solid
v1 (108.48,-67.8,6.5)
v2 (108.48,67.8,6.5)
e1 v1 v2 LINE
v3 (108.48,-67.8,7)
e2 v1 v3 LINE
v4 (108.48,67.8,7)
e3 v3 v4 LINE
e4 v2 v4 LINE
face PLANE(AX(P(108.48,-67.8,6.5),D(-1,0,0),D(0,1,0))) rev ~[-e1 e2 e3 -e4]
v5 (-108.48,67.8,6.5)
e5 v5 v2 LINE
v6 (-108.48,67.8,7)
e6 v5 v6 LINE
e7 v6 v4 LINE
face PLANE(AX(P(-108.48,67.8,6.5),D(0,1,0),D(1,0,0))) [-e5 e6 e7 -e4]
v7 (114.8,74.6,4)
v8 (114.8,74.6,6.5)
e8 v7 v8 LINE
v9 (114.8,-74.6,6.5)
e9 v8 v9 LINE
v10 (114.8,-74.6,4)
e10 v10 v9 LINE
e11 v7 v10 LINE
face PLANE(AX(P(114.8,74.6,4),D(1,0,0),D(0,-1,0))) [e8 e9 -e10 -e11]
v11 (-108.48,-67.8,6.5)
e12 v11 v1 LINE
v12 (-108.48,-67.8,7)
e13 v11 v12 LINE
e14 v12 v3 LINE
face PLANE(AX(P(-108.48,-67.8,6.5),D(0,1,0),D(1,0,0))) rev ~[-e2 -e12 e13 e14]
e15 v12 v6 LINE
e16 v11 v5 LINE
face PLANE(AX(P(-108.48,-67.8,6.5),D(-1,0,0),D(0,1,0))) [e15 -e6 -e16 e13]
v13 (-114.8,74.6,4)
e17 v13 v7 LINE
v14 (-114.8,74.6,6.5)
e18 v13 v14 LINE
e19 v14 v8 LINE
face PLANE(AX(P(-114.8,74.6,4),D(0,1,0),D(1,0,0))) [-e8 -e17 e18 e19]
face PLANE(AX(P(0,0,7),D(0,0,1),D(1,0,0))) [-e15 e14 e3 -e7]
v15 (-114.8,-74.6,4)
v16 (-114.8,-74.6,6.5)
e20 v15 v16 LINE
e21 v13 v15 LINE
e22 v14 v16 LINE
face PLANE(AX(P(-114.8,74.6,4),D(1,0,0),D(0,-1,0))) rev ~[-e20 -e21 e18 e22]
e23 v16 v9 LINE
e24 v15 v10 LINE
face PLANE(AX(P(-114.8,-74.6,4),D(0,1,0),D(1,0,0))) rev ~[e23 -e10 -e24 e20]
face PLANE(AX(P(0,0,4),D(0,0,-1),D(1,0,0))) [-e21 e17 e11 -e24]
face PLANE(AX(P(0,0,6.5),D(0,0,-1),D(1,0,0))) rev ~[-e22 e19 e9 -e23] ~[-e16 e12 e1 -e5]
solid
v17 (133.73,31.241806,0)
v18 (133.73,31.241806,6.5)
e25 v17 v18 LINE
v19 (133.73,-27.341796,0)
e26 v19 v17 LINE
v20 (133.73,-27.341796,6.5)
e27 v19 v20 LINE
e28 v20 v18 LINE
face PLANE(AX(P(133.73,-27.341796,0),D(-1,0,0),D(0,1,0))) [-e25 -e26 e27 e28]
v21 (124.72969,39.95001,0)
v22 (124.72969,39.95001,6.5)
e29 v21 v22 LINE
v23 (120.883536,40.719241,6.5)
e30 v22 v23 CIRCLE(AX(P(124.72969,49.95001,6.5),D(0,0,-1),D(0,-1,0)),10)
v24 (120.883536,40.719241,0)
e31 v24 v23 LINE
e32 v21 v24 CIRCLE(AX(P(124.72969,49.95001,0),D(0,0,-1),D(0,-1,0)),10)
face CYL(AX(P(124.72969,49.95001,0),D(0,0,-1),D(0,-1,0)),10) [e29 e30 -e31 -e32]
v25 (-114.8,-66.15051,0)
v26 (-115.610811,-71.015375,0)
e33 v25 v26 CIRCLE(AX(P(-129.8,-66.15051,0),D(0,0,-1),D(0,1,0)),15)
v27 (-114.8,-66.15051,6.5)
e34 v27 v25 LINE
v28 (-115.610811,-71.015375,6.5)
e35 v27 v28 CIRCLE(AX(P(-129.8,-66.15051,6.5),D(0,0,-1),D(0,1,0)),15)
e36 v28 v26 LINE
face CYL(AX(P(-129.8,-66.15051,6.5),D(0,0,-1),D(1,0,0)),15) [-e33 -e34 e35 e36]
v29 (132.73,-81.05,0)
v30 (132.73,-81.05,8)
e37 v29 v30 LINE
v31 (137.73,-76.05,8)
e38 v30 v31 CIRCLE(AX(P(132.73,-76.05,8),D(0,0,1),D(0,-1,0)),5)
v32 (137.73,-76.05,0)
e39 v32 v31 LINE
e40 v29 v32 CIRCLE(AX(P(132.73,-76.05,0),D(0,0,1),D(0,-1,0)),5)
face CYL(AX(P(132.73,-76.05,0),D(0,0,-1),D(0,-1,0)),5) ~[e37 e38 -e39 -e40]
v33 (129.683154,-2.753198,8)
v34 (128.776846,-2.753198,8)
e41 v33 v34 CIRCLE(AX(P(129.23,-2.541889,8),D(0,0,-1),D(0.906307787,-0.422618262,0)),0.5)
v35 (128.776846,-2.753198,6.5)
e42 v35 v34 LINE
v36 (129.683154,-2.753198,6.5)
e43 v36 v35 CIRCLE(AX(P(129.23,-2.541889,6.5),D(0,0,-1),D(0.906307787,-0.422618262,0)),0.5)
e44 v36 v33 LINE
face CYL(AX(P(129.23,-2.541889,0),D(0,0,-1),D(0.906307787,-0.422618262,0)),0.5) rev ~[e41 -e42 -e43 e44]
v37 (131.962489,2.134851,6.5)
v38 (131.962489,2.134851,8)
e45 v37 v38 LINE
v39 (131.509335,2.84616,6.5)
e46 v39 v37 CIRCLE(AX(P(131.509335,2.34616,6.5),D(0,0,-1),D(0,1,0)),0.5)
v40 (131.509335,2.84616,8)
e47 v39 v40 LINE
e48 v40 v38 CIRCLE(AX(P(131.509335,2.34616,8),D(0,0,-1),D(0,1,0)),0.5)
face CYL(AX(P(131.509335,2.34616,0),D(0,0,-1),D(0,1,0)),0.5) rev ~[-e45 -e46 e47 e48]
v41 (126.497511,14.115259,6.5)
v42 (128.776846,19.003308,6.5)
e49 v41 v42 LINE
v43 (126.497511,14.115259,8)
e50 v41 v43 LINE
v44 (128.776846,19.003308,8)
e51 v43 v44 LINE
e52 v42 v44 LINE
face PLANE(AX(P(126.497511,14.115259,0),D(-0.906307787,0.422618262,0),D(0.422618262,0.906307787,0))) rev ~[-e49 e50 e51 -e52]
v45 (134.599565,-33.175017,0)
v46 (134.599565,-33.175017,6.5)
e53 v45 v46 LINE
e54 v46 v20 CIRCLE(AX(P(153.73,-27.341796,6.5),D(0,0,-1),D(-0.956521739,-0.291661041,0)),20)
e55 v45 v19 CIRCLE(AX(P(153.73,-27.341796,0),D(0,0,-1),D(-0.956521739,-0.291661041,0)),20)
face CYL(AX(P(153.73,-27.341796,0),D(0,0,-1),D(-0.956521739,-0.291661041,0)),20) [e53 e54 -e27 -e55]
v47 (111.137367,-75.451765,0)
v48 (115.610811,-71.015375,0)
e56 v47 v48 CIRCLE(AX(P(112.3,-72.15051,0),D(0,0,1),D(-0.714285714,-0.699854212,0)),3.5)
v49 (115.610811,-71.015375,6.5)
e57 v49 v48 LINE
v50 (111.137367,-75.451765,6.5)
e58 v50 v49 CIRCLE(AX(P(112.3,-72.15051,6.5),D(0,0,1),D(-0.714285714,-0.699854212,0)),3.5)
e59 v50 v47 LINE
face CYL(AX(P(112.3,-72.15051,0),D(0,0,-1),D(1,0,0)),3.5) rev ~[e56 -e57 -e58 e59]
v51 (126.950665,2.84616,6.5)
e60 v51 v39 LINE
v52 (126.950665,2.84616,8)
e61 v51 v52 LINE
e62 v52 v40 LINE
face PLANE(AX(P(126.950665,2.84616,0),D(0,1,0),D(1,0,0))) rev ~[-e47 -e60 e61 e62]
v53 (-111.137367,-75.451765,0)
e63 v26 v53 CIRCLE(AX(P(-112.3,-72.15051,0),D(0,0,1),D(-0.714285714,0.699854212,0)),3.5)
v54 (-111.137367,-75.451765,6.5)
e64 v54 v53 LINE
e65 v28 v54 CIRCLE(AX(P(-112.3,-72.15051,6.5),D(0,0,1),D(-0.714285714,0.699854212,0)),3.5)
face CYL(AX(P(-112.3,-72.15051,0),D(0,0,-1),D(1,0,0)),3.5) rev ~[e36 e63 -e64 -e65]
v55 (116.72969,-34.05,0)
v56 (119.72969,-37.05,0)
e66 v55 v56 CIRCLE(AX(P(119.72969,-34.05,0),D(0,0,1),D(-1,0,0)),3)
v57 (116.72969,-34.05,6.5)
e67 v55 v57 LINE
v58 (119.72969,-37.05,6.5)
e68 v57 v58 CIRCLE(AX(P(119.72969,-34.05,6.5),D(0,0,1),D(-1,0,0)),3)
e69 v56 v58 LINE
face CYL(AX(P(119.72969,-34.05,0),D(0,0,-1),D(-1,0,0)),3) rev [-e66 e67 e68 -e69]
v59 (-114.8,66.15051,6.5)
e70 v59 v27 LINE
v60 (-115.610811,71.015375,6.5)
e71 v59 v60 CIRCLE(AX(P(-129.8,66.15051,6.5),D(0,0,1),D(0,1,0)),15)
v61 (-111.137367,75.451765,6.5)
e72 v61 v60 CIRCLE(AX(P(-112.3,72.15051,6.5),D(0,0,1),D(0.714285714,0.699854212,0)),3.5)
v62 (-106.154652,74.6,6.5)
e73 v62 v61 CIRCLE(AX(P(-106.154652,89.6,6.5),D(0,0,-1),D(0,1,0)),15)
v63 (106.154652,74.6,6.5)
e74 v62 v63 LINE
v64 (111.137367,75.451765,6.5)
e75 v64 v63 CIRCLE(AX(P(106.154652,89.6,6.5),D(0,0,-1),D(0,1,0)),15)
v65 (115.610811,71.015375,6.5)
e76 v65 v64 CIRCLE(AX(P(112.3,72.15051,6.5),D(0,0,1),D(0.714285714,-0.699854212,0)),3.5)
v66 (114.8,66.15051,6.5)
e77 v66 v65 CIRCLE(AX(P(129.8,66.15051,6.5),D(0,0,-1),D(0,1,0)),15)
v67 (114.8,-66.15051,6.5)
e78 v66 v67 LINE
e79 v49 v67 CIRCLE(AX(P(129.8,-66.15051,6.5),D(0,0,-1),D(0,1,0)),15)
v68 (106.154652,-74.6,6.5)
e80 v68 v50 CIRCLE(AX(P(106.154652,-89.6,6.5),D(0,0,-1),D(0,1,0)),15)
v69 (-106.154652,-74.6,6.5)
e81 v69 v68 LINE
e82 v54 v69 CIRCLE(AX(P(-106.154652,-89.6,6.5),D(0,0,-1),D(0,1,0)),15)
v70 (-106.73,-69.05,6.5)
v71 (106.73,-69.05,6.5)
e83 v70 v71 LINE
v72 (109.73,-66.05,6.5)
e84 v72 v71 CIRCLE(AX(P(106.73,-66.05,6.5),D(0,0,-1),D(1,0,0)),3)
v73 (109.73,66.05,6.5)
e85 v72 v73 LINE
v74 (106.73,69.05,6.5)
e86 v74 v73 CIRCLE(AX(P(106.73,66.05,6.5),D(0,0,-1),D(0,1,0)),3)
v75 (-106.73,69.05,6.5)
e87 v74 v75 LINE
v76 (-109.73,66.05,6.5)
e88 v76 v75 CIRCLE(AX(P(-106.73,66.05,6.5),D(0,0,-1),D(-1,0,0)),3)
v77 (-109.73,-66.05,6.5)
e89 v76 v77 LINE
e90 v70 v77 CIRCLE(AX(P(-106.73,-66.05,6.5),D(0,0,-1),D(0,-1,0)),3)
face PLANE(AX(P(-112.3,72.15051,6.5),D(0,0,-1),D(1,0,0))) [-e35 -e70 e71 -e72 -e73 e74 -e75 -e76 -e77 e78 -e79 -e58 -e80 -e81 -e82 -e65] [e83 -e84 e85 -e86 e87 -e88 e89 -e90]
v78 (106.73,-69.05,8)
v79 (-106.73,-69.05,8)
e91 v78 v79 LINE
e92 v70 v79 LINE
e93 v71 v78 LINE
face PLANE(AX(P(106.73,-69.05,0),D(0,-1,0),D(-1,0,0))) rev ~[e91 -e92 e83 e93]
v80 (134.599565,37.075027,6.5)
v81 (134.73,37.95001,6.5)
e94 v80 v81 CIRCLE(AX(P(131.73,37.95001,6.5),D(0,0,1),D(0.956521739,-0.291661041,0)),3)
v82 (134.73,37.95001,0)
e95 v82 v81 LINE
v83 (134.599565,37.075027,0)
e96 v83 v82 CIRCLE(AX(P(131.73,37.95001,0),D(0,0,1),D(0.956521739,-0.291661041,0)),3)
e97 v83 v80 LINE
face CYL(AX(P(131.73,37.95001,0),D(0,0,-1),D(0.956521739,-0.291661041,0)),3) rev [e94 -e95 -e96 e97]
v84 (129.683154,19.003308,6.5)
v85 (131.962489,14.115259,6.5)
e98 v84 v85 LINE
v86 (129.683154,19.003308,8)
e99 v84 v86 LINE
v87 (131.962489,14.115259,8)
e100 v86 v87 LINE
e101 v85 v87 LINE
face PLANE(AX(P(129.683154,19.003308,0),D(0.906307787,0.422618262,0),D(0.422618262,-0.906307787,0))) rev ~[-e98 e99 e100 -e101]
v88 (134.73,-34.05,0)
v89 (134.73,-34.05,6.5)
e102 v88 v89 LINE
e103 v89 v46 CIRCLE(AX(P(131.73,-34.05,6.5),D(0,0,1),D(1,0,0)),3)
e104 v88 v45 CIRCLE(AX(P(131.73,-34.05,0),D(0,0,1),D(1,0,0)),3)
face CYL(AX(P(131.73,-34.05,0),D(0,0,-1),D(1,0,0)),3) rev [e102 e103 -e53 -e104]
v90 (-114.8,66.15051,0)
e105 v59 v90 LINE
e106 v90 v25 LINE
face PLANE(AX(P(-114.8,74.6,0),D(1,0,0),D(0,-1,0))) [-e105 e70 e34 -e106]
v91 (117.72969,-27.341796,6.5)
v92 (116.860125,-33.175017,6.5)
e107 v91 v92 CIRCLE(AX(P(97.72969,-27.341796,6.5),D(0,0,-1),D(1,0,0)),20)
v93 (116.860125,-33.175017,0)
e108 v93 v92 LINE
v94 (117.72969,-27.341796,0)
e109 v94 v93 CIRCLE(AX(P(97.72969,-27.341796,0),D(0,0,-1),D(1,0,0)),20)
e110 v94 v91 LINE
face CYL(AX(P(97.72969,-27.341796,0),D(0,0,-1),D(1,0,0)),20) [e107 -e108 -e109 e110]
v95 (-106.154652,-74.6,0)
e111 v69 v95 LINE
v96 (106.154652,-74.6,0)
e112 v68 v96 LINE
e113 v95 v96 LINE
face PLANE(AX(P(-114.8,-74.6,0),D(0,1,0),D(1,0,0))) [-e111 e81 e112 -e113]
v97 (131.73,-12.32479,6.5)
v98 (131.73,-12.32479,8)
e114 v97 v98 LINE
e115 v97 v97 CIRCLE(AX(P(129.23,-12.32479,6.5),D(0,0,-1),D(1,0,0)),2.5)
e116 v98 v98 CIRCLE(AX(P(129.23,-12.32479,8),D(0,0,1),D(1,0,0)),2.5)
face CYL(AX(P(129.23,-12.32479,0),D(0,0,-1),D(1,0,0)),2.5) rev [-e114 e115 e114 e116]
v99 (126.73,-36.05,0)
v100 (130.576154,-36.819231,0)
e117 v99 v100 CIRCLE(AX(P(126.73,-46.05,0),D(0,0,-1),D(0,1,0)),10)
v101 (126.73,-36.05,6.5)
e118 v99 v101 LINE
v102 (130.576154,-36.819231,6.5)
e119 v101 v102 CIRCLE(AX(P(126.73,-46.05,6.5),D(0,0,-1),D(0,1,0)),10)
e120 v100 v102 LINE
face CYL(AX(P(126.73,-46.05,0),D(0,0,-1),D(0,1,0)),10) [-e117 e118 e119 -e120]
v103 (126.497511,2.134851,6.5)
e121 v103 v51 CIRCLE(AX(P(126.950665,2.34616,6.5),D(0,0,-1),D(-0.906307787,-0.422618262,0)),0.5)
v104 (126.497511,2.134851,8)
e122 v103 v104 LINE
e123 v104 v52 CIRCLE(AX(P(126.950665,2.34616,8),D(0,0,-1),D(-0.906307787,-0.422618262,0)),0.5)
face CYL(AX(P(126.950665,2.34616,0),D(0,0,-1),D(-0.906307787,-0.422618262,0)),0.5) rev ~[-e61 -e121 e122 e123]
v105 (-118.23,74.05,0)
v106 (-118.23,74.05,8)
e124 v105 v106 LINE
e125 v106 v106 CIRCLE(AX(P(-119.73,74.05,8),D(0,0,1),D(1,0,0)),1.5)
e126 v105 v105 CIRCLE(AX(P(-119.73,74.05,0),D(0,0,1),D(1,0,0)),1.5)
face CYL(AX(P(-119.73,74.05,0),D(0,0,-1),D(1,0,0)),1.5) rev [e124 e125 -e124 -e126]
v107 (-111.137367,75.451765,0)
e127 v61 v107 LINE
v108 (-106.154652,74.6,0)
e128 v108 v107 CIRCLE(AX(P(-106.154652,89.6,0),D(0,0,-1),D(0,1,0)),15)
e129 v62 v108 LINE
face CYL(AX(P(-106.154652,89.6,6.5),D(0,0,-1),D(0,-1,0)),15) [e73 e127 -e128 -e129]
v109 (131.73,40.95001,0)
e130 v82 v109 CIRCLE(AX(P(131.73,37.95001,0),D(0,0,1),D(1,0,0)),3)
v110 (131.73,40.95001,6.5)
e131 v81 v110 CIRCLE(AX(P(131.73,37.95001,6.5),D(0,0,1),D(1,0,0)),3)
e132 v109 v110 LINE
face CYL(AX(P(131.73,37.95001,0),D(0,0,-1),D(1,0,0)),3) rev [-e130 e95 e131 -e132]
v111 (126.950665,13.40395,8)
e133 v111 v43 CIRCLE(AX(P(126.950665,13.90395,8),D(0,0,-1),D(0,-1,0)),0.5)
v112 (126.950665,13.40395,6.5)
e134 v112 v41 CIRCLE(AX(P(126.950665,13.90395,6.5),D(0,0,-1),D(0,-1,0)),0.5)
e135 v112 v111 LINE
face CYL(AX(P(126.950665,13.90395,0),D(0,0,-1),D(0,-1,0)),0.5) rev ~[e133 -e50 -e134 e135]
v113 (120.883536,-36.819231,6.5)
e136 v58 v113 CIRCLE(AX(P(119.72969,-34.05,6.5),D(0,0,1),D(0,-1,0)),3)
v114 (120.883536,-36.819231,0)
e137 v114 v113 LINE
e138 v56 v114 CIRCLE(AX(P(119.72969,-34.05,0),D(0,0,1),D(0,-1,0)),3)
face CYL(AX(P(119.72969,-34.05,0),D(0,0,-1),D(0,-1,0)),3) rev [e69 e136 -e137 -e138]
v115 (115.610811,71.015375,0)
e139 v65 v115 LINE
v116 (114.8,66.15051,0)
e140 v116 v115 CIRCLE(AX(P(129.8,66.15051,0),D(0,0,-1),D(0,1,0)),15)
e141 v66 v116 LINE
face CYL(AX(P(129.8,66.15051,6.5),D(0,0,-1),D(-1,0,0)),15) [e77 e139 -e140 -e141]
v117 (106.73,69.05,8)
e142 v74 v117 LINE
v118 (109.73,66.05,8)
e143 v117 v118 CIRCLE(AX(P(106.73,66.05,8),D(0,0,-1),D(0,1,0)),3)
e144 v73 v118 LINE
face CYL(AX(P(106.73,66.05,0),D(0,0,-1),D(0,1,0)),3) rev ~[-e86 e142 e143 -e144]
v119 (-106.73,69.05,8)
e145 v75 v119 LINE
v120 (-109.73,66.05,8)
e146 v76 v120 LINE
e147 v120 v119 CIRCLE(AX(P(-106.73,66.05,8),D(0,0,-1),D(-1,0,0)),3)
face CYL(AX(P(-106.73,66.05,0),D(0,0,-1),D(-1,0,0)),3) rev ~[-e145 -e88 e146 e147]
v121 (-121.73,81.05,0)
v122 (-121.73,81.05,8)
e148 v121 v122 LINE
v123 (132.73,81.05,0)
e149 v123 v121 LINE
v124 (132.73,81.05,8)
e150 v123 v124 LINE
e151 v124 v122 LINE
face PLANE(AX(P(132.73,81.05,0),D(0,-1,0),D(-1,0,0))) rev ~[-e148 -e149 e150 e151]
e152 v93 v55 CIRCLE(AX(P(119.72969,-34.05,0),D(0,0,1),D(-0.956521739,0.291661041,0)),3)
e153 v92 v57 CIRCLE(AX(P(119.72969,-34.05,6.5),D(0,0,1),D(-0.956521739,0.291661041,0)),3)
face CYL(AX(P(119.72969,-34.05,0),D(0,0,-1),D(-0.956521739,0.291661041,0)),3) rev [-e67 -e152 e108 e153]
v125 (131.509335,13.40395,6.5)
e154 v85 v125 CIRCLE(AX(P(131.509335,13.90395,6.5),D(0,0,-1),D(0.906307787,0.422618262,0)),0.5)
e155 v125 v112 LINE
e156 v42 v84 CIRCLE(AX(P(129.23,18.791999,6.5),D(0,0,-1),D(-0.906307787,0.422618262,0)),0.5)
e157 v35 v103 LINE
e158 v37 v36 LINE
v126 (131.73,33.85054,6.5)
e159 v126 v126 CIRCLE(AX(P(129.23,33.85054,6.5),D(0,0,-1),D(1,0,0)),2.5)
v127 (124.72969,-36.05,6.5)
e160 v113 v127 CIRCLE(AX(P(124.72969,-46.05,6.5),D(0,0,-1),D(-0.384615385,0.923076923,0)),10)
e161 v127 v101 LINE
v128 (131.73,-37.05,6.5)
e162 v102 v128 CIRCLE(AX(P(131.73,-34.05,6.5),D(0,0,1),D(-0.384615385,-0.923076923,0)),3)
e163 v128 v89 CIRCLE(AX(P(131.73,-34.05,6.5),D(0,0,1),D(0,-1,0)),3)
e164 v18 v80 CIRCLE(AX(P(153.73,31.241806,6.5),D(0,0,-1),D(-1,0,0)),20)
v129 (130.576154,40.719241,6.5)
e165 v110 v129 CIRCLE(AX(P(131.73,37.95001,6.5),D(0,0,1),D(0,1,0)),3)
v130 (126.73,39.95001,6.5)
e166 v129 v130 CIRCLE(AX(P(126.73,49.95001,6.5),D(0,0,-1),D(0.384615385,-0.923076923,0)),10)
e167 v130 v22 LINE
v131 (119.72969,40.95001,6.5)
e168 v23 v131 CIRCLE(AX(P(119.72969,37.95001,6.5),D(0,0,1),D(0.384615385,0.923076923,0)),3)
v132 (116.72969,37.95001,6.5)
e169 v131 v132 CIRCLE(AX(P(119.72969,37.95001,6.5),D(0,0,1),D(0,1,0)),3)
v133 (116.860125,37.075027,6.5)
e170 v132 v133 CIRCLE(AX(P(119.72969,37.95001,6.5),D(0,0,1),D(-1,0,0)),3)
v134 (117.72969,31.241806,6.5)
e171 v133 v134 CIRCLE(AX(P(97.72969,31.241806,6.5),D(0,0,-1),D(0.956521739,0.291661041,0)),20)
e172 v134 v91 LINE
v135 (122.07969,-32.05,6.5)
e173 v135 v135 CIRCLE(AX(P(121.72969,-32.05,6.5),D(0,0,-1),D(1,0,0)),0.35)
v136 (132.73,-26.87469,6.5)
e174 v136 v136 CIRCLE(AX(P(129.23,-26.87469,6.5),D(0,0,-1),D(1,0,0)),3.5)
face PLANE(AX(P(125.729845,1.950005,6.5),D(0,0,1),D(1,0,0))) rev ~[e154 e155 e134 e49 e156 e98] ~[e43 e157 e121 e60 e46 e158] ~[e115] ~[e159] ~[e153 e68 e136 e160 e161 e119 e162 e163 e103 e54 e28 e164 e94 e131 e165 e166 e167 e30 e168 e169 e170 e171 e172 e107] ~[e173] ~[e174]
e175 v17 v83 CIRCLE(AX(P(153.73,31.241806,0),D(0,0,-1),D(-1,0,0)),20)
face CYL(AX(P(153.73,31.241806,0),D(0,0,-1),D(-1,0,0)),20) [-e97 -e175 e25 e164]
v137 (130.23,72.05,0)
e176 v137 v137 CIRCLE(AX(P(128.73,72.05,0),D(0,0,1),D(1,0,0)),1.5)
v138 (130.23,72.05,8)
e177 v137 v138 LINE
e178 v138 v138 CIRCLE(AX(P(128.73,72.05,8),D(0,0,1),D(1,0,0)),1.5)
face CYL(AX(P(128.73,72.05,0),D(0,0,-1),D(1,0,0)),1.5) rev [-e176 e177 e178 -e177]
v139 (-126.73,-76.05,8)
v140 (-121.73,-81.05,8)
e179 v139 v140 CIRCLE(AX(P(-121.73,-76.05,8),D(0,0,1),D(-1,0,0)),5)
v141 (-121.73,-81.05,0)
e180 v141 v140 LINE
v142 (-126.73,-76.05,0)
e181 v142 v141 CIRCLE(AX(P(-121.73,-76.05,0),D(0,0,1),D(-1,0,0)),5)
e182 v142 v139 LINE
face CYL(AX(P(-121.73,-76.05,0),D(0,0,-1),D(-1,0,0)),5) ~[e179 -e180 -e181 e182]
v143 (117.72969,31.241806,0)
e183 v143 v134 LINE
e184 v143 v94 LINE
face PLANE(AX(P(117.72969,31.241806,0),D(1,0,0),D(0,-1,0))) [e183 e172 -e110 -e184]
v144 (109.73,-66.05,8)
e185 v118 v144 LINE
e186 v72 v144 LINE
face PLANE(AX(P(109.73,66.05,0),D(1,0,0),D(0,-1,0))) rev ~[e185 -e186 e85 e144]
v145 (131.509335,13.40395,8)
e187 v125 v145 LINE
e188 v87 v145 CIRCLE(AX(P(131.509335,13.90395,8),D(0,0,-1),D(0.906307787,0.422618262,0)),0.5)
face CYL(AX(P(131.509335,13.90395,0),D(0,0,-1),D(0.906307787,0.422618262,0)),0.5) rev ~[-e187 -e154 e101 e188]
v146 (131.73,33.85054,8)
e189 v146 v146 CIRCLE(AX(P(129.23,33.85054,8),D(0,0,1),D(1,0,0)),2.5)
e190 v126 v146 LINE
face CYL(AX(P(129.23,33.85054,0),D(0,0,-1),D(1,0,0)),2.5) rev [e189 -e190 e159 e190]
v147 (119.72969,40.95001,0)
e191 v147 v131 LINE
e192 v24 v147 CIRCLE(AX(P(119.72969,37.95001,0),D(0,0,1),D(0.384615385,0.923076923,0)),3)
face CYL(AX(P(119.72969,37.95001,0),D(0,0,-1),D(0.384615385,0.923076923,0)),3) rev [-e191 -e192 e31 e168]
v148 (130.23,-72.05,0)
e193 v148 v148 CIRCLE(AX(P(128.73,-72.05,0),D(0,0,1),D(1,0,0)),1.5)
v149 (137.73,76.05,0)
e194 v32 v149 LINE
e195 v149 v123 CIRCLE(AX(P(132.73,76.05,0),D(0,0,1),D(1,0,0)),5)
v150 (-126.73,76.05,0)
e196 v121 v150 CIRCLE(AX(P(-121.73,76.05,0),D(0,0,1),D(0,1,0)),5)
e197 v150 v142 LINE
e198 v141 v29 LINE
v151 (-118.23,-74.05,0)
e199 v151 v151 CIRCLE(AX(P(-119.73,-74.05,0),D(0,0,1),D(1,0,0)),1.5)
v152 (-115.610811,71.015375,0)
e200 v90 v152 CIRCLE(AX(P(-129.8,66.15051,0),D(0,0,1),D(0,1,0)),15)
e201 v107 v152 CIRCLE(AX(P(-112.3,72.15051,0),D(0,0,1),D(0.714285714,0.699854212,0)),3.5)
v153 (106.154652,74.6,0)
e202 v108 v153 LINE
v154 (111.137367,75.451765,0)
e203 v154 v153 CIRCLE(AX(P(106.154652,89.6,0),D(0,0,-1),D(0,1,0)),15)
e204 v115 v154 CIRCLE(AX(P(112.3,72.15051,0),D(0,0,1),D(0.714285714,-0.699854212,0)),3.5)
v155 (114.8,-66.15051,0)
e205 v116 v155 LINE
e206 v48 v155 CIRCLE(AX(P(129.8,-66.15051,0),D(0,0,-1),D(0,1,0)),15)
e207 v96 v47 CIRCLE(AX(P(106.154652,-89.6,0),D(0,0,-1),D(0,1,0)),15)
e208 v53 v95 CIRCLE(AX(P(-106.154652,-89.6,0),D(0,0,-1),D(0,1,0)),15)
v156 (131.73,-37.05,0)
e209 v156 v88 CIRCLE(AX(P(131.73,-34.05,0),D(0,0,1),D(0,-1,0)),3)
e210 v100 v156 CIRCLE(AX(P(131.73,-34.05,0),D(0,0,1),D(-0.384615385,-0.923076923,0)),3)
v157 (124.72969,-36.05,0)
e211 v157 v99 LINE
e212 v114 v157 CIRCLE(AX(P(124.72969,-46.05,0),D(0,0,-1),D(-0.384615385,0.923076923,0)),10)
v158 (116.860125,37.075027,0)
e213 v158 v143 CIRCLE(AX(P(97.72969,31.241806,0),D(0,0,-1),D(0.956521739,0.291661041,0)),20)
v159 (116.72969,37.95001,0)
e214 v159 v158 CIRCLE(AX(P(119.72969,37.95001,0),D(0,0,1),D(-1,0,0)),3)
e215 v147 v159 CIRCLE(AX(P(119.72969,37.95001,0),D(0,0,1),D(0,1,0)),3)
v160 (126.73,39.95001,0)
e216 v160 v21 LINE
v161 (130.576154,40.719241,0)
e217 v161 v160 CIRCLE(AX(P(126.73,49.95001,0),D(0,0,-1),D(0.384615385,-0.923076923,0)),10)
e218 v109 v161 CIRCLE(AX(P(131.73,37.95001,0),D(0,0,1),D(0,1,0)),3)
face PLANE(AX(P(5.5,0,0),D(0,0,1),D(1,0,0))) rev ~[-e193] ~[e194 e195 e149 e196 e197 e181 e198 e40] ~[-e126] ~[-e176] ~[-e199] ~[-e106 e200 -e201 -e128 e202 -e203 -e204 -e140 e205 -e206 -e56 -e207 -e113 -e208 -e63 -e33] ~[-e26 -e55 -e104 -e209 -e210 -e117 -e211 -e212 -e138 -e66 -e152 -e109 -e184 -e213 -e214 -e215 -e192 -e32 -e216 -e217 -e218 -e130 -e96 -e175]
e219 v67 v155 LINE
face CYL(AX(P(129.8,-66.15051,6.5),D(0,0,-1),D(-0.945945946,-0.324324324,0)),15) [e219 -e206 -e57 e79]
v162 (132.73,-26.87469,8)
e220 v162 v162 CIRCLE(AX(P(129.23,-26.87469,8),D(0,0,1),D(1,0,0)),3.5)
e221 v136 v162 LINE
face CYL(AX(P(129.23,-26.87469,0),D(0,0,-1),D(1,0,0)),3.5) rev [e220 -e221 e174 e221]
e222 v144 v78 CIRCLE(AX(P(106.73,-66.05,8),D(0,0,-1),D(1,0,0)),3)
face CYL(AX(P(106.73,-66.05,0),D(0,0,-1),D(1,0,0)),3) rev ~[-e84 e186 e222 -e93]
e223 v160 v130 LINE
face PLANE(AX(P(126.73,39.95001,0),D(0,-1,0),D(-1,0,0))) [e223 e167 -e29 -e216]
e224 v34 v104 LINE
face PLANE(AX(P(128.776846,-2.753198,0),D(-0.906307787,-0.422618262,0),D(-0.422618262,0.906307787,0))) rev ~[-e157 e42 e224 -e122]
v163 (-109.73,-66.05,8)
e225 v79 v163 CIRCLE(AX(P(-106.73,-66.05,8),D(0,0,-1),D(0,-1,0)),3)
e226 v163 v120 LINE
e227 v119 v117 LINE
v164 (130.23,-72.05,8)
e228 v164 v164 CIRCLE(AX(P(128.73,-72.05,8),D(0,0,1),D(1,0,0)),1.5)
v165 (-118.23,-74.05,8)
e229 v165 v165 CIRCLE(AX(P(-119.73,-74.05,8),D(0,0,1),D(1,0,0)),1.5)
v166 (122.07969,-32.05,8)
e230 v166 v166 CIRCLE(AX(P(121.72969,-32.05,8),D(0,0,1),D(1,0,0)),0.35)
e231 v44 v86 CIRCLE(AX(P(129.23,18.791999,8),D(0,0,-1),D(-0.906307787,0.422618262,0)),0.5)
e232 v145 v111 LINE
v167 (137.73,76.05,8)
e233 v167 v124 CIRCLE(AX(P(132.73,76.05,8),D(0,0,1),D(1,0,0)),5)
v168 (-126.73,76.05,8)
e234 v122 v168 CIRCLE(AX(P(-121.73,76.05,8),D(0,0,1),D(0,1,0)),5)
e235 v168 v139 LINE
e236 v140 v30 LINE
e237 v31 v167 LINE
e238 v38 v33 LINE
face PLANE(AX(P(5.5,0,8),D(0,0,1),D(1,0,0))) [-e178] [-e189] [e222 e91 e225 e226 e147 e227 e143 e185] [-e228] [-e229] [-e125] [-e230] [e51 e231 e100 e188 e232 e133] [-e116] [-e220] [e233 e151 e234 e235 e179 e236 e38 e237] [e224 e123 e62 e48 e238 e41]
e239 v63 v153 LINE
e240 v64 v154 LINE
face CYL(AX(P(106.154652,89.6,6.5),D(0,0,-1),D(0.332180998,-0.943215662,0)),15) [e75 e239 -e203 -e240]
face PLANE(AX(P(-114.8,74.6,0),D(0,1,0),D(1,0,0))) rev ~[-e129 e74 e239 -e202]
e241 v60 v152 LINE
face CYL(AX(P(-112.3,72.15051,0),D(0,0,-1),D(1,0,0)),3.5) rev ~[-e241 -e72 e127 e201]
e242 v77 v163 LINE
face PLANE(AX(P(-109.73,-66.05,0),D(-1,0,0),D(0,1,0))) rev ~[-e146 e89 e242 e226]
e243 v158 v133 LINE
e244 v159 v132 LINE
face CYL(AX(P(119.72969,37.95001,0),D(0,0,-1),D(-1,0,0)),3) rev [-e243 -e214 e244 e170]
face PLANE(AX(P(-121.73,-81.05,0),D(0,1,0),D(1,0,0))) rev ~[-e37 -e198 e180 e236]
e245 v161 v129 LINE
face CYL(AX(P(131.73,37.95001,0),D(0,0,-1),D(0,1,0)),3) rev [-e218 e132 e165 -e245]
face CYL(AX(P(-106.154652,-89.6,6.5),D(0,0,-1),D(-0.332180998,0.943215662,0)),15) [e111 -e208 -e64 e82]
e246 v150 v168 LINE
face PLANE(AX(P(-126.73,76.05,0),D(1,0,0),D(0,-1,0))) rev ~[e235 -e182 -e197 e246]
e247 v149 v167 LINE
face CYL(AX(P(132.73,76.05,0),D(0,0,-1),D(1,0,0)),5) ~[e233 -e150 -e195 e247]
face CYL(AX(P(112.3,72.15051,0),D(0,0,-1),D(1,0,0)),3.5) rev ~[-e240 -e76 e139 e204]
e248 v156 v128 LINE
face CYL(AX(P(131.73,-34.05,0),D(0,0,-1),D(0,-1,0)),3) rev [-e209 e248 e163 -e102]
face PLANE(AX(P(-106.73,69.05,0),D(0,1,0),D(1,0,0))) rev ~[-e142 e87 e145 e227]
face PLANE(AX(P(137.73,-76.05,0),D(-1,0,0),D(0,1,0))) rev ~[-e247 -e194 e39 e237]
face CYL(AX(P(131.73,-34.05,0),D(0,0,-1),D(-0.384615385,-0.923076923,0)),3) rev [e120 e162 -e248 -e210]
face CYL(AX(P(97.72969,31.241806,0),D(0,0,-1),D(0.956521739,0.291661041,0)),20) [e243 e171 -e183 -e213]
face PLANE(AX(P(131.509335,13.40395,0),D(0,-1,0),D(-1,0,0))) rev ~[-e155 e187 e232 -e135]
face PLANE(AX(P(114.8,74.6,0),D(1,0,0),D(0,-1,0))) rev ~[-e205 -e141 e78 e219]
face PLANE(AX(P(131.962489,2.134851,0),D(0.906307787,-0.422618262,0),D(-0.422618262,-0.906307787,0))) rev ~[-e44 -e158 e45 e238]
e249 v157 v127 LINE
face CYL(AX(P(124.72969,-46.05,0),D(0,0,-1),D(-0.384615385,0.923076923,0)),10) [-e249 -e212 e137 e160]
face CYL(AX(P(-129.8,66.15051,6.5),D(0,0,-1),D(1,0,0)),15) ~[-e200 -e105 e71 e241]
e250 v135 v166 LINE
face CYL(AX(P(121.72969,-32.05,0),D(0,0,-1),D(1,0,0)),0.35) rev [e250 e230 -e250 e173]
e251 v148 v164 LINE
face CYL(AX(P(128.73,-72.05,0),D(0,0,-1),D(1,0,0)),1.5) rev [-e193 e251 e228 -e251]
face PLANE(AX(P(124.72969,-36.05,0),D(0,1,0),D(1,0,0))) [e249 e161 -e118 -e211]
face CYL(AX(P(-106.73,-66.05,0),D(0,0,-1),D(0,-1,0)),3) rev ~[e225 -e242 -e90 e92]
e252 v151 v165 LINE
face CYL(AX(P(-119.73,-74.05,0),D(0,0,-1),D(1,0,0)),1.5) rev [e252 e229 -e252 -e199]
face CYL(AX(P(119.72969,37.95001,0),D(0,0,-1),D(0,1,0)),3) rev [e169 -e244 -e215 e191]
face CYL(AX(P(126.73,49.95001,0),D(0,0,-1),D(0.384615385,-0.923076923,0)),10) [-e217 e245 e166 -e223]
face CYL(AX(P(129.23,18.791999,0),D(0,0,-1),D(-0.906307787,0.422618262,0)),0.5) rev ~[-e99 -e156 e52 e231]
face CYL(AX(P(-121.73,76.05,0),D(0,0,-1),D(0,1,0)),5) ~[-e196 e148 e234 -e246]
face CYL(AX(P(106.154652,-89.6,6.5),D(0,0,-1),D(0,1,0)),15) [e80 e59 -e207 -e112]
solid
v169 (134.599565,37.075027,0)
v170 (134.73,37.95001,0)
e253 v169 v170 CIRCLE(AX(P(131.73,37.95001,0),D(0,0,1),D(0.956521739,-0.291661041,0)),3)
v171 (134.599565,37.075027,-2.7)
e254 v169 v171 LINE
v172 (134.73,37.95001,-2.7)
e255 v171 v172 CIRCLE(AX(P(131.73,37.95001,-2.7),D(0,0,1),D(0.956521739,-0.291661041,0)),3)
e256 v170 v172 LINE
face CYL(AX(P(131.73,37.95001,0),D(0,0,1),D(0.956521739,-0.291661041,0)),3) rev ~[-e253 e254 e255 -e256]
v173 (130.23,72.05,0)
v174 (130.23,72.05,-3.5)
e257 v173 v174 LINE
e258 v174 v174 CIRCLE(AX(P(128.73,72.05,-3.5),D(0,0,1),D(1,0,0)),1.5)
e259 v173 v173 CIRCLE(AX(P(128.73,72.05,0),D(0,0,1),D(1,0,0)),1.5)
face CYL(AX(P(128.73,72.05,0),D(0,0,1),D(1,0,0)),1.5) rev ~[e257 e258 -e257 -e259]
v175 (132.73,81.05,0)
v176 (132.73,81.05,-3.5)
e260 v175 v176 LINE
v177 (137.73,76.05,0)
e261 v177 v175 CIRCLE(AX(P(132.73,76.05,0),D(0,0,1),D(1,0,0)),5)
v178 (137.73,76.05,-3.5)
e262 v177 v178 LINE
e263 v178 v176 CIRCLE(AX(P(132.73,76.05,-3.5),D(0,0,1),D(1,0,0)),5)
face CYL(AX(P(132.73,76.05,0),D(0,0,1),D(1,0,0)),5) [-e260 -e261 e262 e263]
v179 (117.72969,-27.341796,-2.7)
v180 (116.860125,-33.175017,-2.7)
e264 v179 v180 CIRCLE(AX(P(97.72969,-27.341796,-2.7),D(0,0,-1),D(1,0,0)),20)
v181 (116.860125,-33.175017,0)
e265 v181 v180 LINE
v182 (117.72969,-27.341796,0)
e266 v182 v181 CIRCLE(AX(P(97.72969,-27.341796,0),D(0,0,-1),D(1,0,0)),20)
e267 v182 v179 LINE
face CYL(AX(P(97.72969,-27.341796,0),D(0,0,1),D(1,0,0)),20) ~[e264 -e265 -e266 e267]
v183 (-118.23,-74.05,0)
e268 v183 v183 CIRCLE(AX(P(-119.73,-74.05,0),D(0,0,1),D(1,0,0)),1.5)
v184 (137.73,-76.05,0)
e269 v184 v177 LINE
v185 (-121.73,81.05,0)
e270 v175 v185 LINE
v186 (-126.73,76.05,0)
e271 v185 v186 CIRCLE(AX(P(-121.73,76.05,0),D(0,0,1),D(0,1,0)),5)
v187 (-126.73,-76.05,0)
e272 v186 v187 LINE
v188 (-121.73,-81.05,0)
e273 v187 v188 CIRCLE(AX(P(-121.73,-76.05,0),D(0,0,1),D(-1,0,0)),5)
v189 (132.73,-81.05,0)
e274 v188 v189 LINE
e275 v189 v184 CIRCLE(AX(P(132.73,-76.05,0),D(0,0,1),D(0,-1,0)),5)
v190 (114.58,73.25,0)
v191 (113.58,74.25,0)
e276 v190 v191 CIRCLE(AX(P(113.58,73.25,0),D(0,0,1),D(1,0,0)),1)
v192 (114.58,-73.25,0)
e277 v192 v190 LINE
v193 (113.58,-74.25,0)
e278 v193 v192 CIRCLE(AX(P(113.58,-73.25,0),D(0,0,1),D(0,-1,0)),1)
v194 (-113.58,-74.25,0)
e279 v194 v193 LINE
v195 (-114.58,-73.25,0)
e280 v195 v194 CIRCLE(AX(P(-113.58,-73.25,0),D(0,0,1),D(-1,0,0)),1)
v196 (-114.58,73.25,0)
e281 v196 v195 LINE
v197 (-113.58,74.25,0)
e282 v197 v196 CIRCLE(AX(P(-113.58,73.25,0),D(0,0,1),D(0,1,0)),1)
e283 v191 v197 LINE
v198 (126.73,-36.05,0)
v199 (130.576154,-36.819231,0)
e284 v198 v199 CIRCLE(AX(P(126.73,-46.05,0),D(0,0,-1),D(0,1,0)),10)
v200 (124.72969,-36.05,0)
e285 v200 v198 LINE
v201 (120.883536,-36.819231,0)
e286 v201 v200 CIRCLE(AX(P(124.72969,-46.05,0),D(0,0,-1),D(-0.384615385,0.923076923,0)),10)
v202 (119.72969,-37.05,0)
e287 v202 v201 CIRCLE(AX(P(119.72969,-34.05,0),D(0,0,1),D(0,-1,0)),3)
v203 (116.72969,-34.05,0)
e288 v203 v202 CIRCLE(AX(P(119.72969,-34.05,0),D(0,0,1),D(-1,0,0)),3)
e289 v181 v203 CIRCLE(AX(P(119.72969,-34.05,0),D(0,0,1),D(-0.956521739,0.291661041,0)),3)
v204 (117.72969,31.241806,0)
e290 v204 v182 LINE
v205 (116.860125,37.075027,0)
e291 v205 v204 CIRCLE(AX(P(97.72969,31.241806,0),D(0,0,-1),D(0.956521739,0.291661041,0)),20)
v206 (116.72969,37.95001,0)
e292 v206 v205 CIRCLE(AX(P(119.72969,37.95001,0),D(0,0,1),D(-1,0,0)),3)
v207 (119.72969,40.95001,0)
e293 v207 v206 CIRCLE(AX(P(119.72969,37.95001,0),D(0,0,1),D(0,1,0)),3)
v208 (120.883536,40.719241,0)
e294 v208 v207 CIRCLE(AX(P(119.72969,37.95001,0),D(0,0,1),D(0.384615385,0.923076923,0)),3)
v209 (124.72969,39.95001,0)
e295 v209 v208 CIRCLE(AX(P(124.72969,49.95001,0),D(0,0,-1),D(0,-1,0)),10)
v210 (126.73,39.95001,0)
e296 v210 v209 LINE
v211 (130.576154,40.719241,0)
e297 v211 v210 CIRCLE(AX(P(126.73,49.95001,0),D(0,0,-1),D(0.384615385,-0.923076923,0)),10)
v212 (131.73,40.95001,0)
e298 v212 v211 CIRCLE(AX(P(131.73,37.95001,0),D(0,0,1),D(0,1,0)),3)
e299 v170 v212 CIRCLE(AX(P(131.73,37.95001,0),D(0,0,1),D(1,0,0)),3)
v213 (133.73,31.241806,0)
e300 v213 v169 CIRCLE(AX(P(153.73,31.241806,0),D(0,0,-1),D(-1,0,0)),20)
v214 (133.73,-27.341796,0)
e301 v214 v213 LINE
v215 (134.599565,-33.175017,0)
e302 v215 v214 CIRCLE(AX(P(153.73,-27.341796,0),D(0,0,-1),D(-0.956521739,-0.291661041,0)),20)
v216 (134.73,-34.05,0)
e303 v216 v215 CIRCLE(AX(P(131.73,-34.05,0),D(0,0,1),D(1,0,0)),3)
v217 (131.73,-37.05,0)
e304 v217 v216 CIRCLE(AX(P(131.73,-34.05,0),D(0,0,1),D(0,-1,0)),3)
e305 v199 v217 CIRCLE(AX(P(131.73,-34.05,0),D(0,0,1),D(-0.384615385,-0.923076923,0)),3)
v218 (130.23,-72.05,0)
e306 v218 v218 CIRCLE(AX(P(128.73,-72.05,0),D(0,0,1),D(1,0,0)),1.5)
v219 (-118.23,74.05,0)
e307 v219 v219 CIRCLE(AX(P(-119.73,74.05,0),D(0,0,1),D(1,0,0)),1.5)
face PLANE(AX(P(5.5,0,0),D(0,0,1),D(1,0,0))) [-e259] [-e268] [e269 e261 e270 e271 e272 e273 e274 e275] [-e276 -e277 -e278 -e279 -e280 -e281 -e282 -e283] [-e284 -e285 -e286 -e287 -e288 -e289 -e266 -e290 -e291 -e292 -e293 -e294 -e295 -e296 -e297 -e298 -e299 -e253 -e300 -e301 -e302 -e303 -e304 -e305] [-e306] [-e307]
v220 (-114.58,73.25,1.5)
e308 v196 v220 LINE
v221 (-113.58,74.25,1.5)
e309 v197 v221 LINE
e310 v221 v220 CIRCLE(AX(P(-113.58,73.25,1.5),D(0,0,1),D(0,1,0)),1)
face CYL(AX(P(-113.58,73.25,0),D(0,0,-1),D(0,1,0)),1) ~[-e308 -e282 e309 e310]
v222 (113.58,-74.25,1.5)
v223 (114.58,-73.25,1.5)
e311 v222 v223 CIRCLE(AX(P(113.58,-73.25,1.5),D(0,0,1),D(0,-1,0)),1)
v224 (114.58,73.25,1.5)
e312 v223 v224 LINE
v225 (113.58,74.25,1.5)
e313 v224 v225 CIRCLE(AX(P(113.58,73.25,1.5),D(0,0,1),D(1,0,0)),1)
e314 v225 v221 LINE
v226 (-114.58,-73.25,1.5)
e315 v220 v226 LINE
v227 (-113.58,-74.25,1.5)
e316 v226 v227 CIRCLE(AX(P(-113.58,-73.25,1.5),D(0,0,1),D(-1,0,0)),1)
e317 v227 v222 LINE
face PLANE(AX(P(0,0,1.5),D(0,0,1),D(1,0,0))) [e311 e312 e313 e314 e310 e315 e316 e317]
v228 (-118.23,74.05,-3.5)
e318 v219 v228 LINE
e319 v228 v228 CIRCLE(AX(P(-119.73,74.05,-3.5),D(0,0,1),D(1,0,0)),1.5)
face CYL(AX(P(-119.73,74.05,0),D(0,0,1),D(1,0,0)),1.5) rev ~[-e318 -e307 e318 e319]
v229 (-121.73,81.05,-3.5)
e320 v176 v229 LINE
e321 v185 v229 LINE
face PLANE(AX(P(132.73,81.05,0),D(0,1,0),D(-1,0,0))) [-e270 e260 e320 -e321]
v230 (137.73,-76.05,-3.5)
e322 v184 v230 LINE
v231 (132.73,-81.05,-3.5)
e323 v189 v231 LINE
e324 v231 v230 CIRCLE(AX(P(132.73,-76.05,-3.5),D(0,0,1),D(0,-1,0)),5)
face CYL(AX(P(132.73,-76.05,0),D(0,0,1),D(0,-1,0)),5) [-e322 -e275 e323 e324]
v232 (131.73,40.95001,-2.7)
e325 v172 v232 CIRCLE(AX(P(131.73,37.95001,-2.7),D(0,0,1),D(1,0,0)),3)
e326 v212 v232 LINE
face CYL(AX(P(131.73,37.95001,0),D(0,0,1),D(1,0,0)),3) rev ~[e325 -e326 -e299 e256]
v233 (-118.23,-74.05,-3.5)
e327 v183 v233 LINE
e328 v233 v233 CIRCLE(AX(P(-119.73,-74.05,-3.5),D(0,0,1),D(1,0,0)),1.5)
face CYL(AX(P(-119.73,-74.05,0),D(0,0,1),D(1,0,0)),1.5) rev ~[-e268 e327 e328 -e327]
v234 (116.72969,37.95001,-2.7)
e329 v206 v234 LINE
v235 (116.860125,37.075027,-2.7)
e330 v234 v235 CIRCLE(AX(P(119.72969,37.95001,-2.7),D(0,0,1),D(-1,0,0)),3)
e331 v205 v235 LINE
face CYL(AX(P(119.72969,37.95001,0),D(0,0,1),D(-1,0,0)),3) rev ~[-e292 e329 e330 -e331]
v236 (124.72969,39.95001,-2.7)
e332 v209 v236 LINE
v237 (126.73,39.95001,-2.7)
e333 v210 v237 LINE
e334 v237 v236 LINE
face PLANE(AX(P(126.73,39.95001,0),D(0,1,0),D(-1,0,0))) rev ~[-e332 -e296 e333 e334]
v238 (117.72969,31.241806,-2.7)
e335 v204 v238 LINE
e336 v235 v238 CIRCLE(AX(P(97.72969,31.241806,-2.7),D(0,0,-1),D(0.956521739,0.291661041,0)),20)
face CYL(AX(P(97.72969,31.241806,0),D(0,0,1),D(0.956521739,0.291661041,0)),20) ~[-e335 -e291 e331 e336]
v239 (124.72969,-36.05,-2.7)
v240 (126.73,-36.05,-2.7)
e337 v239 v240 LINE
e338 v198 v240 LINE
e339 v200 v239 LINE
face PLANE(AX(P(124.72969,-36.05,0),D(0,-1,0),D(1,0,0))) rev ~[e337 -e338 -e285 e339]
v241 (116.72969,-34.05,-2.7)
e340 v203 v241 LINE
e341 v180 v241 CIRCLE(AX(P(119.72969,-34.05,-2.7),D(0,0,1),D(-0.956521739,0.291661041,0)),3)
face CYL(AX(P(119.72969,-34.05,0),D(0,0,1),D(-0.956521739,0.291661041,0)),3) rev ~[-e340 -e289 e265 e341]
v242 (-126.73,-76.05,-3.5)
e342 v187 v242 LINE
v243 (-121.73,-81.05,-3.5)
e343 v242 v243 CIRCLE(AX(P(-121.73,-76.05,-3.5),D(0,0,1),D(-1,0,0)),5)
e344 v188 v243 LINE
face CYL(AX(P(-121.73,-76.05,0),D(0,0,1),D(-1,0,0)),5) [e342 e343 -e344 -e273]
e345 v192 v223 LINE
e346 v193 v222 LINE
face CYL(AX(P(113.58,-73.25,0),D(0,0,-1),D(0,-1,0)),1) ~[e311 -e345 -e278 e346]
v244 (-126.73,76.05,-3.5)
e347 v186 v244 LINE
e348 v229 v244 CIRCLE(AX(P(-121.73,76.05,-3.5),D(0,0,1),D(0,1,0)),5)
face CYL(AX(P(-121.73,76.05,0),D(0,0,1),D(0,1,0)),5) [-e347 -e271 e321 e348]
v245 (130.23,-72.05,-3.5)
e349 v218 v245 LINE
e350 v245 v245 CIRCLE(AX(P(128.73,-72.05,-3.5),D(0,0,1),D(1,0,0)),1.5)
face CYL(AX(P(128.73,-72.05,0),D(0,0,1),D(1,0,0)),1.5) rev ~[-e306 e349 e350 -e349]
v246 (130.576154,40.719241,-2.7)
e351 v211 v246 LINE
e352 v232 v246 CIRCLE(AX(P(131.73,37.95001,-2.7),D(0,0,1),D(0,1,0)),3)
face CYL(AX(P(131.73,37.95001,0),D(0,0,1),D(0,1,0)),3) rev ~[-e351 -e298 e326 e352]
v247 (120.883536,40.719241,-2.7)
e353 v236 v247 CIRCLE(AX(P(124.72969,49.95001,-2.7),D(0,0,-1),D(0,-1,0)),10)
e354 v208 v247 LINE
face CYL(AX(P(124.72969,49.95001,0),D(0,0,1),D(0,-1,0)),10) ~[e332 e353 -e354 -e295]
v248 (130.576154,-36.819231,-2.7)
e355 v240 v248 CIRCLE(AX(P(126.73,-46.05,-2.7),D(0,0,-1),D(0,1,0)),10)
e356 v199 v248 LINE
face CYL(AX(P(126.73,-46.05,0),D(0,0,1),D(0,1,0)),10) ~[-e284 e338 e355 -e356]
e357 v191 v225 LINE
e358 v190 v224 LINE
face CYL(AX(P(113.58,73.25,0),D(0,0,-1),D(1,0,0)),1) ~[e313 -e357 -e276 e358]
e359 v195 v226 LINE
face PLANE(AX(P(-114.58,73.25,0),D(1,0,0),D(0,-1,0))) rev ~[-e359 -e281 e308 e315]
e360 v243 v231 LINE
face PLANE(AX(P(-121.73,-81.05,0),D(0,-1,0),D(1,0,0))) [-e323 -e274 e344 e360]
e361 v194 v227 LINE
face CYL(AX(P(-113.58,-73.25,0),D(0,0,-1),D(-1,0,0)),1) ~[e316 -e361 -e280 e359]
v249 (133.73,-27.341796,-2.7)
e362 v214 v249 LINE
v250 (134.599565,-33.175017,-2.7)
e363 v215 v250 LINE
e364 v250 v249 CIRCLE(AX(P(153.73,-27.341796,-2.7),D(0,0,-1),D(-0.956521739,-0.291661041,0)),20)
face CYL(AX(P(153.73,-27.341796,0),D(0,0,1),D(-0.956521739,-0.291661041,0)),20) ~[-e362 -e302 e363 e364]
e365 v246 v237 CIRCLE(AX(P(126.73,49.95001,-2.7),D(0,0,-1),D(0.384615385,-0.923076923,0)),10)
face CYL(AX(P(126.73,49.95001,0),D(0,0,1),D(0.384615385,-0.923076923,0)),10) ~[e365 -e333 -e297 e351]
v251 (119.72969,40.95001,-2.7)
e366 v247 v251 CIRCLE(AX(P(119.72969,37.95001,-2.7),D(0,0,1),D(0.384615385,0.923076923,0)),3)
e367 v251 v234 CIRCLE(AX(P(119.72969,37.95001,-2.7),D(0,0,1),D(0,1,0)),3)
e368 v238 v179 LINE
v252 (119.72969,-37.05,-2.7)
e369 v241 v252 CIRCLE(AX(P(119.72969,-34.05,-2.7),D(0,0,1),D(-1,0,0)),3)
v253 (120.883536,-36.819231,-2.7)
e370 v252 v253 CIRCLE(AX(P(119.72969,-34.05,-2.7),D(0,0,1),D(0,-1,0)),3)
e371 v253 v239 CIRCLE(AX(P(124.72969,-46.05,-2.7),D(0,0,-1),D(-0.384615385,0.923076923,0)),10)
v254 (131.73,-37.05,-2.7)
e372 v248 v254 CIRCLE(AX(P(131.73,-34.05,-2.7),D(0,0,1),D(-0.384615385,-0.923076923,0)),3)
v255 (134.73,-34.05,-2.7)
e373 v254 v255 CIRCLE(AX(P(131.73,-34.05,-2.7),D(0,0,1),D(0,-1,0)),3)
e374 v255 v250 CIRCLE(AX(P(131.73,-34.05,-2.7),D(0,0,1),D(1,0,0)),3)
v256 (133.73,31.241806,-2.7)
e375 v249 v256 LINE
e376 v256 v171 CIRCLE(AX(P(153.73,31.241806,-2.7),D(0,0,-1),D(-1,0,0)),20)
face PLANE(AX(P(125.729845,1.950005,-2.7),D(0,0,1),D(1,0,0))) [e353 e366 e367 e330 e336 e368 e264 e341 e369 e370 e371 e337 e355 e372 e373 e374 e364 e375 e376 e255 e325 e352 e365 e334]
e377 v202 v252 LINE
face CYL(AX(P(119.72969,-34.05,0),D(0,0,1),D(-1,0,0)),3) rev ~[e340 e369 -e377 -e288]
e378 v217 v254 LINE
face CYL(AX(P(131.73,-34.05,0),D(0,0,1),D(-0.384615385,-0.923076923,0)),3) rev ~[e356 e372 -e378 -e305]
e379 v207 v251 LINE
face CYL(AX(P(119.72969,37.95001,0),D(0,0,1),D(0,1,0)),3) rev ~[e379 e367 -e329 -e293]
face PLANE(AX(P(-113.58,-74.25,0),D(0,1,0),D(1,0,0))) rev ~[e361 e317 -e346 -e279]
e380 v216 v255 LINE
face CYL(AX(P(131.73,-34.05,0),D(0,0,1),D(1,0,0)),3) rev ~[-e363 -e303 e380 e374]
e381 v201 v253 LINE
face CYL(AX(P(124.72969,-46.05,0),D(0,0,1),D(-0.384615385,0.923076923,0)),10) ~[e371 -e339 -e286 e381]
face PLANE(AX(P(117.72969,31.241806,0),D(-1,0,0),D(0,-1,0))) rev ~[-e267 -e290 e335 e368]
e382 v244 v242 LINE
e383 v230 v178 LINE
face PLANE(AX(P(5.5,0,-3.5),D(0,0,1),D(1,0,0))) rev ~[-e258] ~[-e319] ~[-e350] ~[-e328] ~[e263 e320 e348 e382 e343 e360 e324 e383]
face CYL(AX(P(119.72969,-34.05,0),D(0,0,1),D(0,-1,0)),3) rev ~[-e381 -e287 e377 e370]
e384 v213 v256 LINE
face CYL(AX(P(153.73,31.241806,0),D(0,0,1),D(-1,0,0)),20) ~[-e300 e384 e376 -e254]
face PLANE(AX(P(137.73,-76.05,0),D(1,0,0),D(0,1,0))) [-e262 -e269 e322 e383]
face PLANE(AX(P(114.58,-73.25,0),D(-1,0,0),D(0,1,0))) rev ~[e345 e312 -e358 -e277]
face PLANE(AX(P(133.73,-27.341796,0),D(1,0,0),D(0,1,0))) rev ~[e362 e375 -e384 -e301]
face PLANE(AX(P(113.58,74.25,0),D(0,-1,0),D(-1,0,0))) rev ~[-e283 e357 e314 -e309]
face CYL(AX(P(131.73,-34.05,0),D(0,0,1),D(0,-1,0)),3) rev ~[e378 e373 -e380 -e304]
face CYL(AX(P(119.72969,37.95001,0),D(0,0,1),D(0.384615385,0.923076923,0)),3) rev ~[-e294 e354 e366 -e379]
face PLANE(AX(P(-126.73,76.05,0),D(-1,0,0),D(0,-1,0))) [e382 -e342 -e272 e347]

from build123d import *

# Parameters (mm, degrees)
F0_R      = 1.5
F0_R_2    = 0.35
F0_R_3    = 3.5
F0_R_4    = 2.5
F1_DEPTH  = 8
F2_W      = 229.6
F2_H      = 149.2
F3_DEPTH  = 6.5
F4_START  = -4
F4_DEPTH  = 2.5
F5_W      = 216.96
F5_H      = 135.6
F6_DEPTH  = 0.5
F8_DEPTH  = 6.5
F9_R      = 1.5
F10_DEPTH = 3.5
F11_DEPTH = 2.7
F13_DEPTH = 1.5
F14_R     = 3.5
F15_DEPTH = 6.5
F16_R     = 15


with BuildPart() as f1:
    # F0 (on Top) → F1 (new body)
    with BuildSketch(Plane.XY):
        with BuildLine():
            Line((132.73, 81.05), (-121.73, 81.05))
            ThreePointArc((-121.73, 81.05), (-125.2655339059, 79.5855339059), (-126.73, 76.05))
            Line((-126.73, 76.05), (-126.73, -76.05))
            ThreePointArc((-126.73, -76.05), (-125.2655339059, -79.5855339059), (-121.73, -81.05))
            Line((-121.73, -81.05), (132.73, -81.05))
            ThreePointArc((132.73, -81.05), (136.2655339059, -79.5855339059), (137.73, -76.05))
            Line((137.73, -76.05), (137.73, 76.05))
            ThreePointArc((137.73, 76.05), (136.2655339059, 79.5855339059), (132.73, 81.05))
        make_face()
        with Locations((-119.73, -74.05)):
            Circle(F0_R, mode=Mode.SUBTRACT)
        with BuildLine():
            ThreePointArc((-109.73, 66.05), (-108.8513203436, 68.1713203436), (-106.73, 69.05))
            Line((-106.73, 69.05), (106.73, 69.05))
            ThreePointArc((106.73, 69.05), (108.8513203436, 68.1713203436), (109.73, 66.05))
            Line((109.73, 66.05), (109.73, -66.05))
            ThreePointArc((109.73, -66.05), (108.8513203436, -68.1713203436), (106.73, -69.05))
            Line((106.73, -69.05), (-106.73, -69.05))
            ThreePointArc((-106.73, -69.05), (-108.8513203436, -68.1713203436), (-109.73, -66.05))
            Line((-109.73, -66.05), (-109.73, 66.05))
        make_face(mode=Mode.SUBTRACT)
        with Locations((128.73, -72.05)):
            Circle(F0_R, mode=Mode.SUBTRACT)
        with Locations((121.72969, -32.05)):
            Circle(F0_R_2, mode=Mode.SUBTRACT)
        with Locations((129.23, -26.87469)):
            Circle(F0_R_3, mode=Mode.SUBTRACT)
        with Locations((129.23, -12.32479)):
            Circle(F0_R_4, mode=Mode.SUBTRACT)
        with BuildLine():
            Line((131.9624888774, 2.1348513079), (129.6831538935, -2.7531983393))
            ThreePointArc((129.6831538935, -2.7531983393), (129.23, -3.0418892084), (128.7768461065, -2.7531983393))
            Line((128.7768461065, -2.7531983393), (126.4975111226, 2.1348513079))
            ThreePointArc((126.4975111226, 2.1348513079), (126.5289692932, 2.6148102429), (126.9506650161, 2.8461604387))
            Line((126.9506650161, 2.8461604387), (131.5093349839, 2.8461604387))
            ThreePointArc((131.5093349839, 2.8461604387), (131.9310307068, 2.6148102429), (131.9624888774, 2.1348513079))
        make_face(mode=Mode.SUBTRACT)
        with Locations((-119.73, 74.05)):
            Circle(F0_R, mode=Mode.SUBTRACT)
        with BuildLine():
            Line((126.4975111226, 14.1152586921), (128.7768461065, 19.0033083393))
            ThreePointArc((128.7768461065, 19.0033083393), (129.23, 19.2919992084), (129.6831538935, 19.0033083393))
            Line((129.6831538935, 19.0033083393), (131.9624888774, 14.1152586921))
            ThreePointArc((131.9624888774, 14.1152586921), (131.9310307068, 13.6352997571), (131.5093349839, 13.4039495613))
            Line((131.5093349839, 13.4039495613), (126.9506650161, 13.4039495613))
            ThreePointArc((126.9506650161, 13.4039495613), (126.5289692932, 13.6352997571), (126.4975111226, 14.1152586921))
        make_face(mode=Mode.SUBTRACT)
        with Locations((129.23, 33.85054)):
            Circle(F0_R_4, mode=Mode.SUBTRACT)
        with Locations((128.73, 72.05)):
            Circle(F0_R, mode=Mode.SUBTRACT)
    extrude(amount=F1_DEPTH)

    # F2 (on face) → F3 (cut)
    with BuildSketch(Plane(origin=(0, 0, 0), x_dir=(1, 0, 0), z_dir=(0, 0, -1))):
        Rectangle(F2_W, F2_H)
    extrude(amount=-F3_DEPTH, mode=Mode.SUBTRACT)

    # F7 (on face) → F8 (cut)
    with BuildSketch(Plane.XY):
        with BuildLine():
            ThreePointArc((134.5995652174, 37.0750268784), (134.6972121303, 37.5076841315), (134.73, 37.95001))
            ThreePointArc((134.73, 37.95001), (133.8513203436, 40.0713303436), (131.73, 40.95001))
            ThreePointArc((131.73, 40.95001), (131.1416515946, 40.8917520271), (130.5761538462, 40.7192407692))
            ThreePointArc((130.5761538462, 40.7192407692), (128.6911613514, 40.1442032431), (126.73, 39.95001))
            Line((126.73, 39.95001), (124.72969, 39.95001))
            ThreePointArc((124.72969, 39.95001), (122.7685286486, 40.1442032431), (120.8835361538, 40.7192407692))
            ThreePointArc((120.8835361538, 40.7192407692), (120.3180384054, 40.8917520271), (119.72969, 40.95001))
            ThreePointArc((119.72969, 40.95001), (117.6083696564, 40.0713303436), (116.72969, 37.95001))
            ThreePointArc((116.72969, 37.95001), (116.7624778697, 37.5076841315), (116.8601247826, 37.0750268784))
            ThreePointArc((116.8601247826, 37.0750268784), (117.5111042019, 34.1906451906), (117.72969, 31.2418060675))
            Line((117.72969, 31.2418060675), (117.72969, -27.3417960675))
            ThreePointArc((117.72969, -27.3417960675), (117.5111042019, -30.2906351906), (116.8601247826, -33.1750168784))
            ThreePointArc((116.8601247826, -33.1750168784), (116.7624778697, -33.6076741315), (116.72969, -34.05))
            ThreePointArc((116.72969, -34.05), (117.6083696564, -36.1713203436), (119.72969, -37.05))
            ThreePointArc((119.72969, -37.05), (120.3180384054, -36.9917420271), (120.8835361538, -36.8192307692))
            ThreePointArc((120.8835361538, -36.8192307692), (122.7685286486, -36.2441932431), (124.72969, -36.05))
            Line((124.72969, -36.05), (126.73, -36.05))
            ThreePointArc((126.73, -36.05), (128.6911613514, -36.2441932431), (130.5761538462, -36.8192307692))
            ThreePointArc((130.5761538462, -36.8192307692), (131.1416515946, -36.9917420271), (131.73, -37.05))
            ThreePointArc((131.73, -37.05), (133.8513203436, -36.1713203436), (134.73, -34.05))
            ThreePointArc((134.73, -34.05), (134.6972121303, -33.6076741315), (134.5995652174, -33.1750168784))
            ThreePointArc((134.5995652174, -33.1750168784), (133.9485857981, -30.2906351906), (133.73, -27.3417960675))
            Line((133.73, -27.3417960675), (133.73, 31.2418060675))
            ThreePointArc((133.73, 31.2418060675), (133.9485857981, 34.1906451906), (134.5995652174, 37.0750268784))
        make_face()
    extrude(amount=F8_DEPTH, mode=Mode.SUBTRACT)

    # F14 (on face) → F15 (cut)
    with BuildSketch(Plane(origin=(0, 0, 0), x_dir=(1, 0, 0), z_dir=(0, 0, -1))):
        with Locations((-112.3, -72.1505102572)):
            Circle(F14_R)
        with Locations((-112.3, 72.1505102572)):
            Circle(F14_R)
        with Locations((112.3, 72.1505102572)):
            Circle(F14_R)
        with Locations((112.3, -72.1505102572)):
            Circle(F14_R)
    extrude(amount=-F15_DEPTH, mode=Mode.SUBTRACT)

    # F16
    f16_edges = [f1.edges().sort_by_distance(p)[0] for p in [
        (114.8, 69.701021, 3.25),
        (109.8, 74.6, 3.25),
        (114.8, -69.701021, 3.25),
        (109.8, -74.6, 3.25),
        (-109.8, -74.6, 3.25),
        (-114.8, -69.701021, 3.25),
        (-114.8, 69.701021, 3.25),
        (-109.8, 74.6, 3.25),
    ]]
    fillet(f16_edges, radius=F16_R)


with BuildPart() as f4:
    # F2 (on face) → F4 (new body)
    with BuildSketch(Plane(origin=(0, 0, 0), x_dir=(1, 0, 0), z_dir=(0, 0, -1)).offset(F4_START)):
        Rectangle(F2_W, F2_H)
    extrude(amount=-F4_DEPTH)

    # F5 (on face) → F6 (join)
    with BuildSketch(Plane.XY.offset(6.5)):
        Rectangle(F5_W, F5_H)
    extrude(amount=F6_DEPTH)


with BuildPart() as f10:
    # F9 (on Top) → F10 (new body)
    with BuildSketch(Plane.XY):
        with BuildLine():
            Line((-121.73, -81.05), (132.73, -81.05))
            ThreePointArc((132.73, -81.05), (136.2655339059, -79.5855339059), (137.73, -76.05))
            Line((137.73, -76.05), (137.73, 76.05))
            ThreePointArc((137.73, 76.05), (136.2655339059, 79.5855339059), (132.73, 81.05))
            Line((132.73, 81.05), (-121.73, 81.05))
            ThreePointArc((-121.73, 81.05), (-125.2655339059, 79.5855339059), (-126.73, 76.05))
            Line((-126.73, 76.05), (-126.73, -76.05))
            ThreePointArc((-126.73, -76.05), (-125.2655339059, -79.5855339059), (-121.73, -81.05))
        make_face()
        with Locations((-119.73, -74.05)):
            Circle(F9_R, mode=Mode.SUBTRACT)
        with Locations((128.73, -72.05)):
            Circle(F9_R, mode=Mode.SUBTRACT)
        with Locations((-119.73, 74.05)):
            Circle(F9_R, mode=Mode.SUBTRACT)
        with Locations((128.73, 72.05)):
            Circle(F9_R, mode=Mode.SUBTRACT)
    extrude(amount=-F10_DEPTH)

    # F7 (on face) → F11 (cut)
    with BuildSketch(Plane.XY):
        with BuildLine():
            ThreePointArc((134.5995652174, 37.0750268784), (134.6972121303, 37.5076841315), (134.73, 37.95001))
            ThreePointArc((134.73, 37.95001), (133.8513203436, 40.0713303436), (131.73, 40.95001))
            ThreePointArc((131.73, 40.95001), (131.1416515946, 40.8917520271), (130.5761538462, 40.7192407692))
            ThreePointArc((130.5761538462, 40.7192407692), (128.6911613514, 40.1442032431), (126.73, 39.95001))
            Line((126.73, 39.95001), (124.72969, 39.95001))
            ThreePointArc((124.72969, 39.95001), (122.7685286486, 40.1442032431), (120.8835361538, 40.7192407692))
            ThreePointArc((120.8835361538, 40.7192407692), (120.3180384054, 40.8917520271), (119.72969, 40.95001))
            ThreePointArc((119.72969, 40.95001), (117.6083696564, 40.0713303436), (116.72969, 37.95001))
            ThreePointArc((116.72969, 37.95001), (116.7624778697, 37.5076841315), (116.8601247826, 37.0750268784))
            ThreePointArc((116.8601247826, 37.0750268784), (117.5111042019, 34.1906451906), (117.72969, 31.2418060675))
            Line((117.72969, 31.2418060675), (117.72969, -27.3417960675))
            ThreePointArc((117.72969, -27.3417960675), (117.5111042019, -30.2906351906), (116.8601247826, -33.1750168784))
            ThreePointArc((116.8601247826, -33.1750168784), (116.7624778697, -33.6076741315), (116.72969, -34.05))
            ThreePointArc((116.72969, -34.05), (117.6083696564, -36.1713203436), (119.72969, -37.05))
            ThreePointArc((119.72969, -37.05), (120.3180384054, -36.9917420271), (120.8835361538, -36.8192307692))
            ThreePointArc((120.8835361538, -36.8192307692), (122.7685286486, -36.2441932431), (124.72969, -36.05))
            Line((124.72969, -36.05), (126.73, -36.05))
            ThreePointArc((126.73, -36.05), (128.6911613514, -36.2441932431), (130.5761538462, -36.8192307692))
            ThreePointArc((130.5761538462, -36.8192307692), (131.1416515946, -36.9917420271), (131.73, -37.05))
            ThreePointArc((131.73, -37.05), (133.8513203436, -36.1713203436), (134.73, -34.05))
            ThreePointArc((134.73, -34.05), (134.6972121303, -33.6076741315), (134.5995652174, -33.1750168784))
            ThreePointArc((134.5995652174, -33.1750168784), (133.9485857981, -30.2906351906), (133.73, -27.3417960675))
            Line((133.73, -27.3417960675), (133.73, 31.2418060675))
            ThreePointArc((133.73, 31.2418060675), (133.9485857981, 34.1906451906), (134.5995652174, 37.0750268784))
        make_face()
    extrude(amount=-F11_DEPTH, mode=Mode.SUBTRACT)

    # F12 (on face) → F13 (join)
    with BuildSketch(Plane.XY):
        with BuildLine():
            Line((-113.58, -74.25), (113.58, -74.25))
            ThreePointArc((113.58, -74.25), (114.2871067812, -73.9571067812), (114.58, -73.25))
            Line((114.58, -73.25), (114.58, 73.25))
            ThreePointArc((114.58, 73.25), (114.2871067812, 73.9571067812), (113.58, 74.25))
            Line((113.58, 74.25), (-113.58, 74.25))
            ThreePointArc((-113.58, 74.25), (-114.2871067812, 73.9571067812), (-114.58, 73.25))
            Line((-114.58, 73.25), (-114.58, -73.25))
            ThreePointArc((-114.58, -73.25), (-114.2871067812, -73.9571067812), (-113.58, -74.25))
        make_face()
    extrude(amount=F13_DEPTH)


solid = Compound([f1.part, f4.part, f10.part])
